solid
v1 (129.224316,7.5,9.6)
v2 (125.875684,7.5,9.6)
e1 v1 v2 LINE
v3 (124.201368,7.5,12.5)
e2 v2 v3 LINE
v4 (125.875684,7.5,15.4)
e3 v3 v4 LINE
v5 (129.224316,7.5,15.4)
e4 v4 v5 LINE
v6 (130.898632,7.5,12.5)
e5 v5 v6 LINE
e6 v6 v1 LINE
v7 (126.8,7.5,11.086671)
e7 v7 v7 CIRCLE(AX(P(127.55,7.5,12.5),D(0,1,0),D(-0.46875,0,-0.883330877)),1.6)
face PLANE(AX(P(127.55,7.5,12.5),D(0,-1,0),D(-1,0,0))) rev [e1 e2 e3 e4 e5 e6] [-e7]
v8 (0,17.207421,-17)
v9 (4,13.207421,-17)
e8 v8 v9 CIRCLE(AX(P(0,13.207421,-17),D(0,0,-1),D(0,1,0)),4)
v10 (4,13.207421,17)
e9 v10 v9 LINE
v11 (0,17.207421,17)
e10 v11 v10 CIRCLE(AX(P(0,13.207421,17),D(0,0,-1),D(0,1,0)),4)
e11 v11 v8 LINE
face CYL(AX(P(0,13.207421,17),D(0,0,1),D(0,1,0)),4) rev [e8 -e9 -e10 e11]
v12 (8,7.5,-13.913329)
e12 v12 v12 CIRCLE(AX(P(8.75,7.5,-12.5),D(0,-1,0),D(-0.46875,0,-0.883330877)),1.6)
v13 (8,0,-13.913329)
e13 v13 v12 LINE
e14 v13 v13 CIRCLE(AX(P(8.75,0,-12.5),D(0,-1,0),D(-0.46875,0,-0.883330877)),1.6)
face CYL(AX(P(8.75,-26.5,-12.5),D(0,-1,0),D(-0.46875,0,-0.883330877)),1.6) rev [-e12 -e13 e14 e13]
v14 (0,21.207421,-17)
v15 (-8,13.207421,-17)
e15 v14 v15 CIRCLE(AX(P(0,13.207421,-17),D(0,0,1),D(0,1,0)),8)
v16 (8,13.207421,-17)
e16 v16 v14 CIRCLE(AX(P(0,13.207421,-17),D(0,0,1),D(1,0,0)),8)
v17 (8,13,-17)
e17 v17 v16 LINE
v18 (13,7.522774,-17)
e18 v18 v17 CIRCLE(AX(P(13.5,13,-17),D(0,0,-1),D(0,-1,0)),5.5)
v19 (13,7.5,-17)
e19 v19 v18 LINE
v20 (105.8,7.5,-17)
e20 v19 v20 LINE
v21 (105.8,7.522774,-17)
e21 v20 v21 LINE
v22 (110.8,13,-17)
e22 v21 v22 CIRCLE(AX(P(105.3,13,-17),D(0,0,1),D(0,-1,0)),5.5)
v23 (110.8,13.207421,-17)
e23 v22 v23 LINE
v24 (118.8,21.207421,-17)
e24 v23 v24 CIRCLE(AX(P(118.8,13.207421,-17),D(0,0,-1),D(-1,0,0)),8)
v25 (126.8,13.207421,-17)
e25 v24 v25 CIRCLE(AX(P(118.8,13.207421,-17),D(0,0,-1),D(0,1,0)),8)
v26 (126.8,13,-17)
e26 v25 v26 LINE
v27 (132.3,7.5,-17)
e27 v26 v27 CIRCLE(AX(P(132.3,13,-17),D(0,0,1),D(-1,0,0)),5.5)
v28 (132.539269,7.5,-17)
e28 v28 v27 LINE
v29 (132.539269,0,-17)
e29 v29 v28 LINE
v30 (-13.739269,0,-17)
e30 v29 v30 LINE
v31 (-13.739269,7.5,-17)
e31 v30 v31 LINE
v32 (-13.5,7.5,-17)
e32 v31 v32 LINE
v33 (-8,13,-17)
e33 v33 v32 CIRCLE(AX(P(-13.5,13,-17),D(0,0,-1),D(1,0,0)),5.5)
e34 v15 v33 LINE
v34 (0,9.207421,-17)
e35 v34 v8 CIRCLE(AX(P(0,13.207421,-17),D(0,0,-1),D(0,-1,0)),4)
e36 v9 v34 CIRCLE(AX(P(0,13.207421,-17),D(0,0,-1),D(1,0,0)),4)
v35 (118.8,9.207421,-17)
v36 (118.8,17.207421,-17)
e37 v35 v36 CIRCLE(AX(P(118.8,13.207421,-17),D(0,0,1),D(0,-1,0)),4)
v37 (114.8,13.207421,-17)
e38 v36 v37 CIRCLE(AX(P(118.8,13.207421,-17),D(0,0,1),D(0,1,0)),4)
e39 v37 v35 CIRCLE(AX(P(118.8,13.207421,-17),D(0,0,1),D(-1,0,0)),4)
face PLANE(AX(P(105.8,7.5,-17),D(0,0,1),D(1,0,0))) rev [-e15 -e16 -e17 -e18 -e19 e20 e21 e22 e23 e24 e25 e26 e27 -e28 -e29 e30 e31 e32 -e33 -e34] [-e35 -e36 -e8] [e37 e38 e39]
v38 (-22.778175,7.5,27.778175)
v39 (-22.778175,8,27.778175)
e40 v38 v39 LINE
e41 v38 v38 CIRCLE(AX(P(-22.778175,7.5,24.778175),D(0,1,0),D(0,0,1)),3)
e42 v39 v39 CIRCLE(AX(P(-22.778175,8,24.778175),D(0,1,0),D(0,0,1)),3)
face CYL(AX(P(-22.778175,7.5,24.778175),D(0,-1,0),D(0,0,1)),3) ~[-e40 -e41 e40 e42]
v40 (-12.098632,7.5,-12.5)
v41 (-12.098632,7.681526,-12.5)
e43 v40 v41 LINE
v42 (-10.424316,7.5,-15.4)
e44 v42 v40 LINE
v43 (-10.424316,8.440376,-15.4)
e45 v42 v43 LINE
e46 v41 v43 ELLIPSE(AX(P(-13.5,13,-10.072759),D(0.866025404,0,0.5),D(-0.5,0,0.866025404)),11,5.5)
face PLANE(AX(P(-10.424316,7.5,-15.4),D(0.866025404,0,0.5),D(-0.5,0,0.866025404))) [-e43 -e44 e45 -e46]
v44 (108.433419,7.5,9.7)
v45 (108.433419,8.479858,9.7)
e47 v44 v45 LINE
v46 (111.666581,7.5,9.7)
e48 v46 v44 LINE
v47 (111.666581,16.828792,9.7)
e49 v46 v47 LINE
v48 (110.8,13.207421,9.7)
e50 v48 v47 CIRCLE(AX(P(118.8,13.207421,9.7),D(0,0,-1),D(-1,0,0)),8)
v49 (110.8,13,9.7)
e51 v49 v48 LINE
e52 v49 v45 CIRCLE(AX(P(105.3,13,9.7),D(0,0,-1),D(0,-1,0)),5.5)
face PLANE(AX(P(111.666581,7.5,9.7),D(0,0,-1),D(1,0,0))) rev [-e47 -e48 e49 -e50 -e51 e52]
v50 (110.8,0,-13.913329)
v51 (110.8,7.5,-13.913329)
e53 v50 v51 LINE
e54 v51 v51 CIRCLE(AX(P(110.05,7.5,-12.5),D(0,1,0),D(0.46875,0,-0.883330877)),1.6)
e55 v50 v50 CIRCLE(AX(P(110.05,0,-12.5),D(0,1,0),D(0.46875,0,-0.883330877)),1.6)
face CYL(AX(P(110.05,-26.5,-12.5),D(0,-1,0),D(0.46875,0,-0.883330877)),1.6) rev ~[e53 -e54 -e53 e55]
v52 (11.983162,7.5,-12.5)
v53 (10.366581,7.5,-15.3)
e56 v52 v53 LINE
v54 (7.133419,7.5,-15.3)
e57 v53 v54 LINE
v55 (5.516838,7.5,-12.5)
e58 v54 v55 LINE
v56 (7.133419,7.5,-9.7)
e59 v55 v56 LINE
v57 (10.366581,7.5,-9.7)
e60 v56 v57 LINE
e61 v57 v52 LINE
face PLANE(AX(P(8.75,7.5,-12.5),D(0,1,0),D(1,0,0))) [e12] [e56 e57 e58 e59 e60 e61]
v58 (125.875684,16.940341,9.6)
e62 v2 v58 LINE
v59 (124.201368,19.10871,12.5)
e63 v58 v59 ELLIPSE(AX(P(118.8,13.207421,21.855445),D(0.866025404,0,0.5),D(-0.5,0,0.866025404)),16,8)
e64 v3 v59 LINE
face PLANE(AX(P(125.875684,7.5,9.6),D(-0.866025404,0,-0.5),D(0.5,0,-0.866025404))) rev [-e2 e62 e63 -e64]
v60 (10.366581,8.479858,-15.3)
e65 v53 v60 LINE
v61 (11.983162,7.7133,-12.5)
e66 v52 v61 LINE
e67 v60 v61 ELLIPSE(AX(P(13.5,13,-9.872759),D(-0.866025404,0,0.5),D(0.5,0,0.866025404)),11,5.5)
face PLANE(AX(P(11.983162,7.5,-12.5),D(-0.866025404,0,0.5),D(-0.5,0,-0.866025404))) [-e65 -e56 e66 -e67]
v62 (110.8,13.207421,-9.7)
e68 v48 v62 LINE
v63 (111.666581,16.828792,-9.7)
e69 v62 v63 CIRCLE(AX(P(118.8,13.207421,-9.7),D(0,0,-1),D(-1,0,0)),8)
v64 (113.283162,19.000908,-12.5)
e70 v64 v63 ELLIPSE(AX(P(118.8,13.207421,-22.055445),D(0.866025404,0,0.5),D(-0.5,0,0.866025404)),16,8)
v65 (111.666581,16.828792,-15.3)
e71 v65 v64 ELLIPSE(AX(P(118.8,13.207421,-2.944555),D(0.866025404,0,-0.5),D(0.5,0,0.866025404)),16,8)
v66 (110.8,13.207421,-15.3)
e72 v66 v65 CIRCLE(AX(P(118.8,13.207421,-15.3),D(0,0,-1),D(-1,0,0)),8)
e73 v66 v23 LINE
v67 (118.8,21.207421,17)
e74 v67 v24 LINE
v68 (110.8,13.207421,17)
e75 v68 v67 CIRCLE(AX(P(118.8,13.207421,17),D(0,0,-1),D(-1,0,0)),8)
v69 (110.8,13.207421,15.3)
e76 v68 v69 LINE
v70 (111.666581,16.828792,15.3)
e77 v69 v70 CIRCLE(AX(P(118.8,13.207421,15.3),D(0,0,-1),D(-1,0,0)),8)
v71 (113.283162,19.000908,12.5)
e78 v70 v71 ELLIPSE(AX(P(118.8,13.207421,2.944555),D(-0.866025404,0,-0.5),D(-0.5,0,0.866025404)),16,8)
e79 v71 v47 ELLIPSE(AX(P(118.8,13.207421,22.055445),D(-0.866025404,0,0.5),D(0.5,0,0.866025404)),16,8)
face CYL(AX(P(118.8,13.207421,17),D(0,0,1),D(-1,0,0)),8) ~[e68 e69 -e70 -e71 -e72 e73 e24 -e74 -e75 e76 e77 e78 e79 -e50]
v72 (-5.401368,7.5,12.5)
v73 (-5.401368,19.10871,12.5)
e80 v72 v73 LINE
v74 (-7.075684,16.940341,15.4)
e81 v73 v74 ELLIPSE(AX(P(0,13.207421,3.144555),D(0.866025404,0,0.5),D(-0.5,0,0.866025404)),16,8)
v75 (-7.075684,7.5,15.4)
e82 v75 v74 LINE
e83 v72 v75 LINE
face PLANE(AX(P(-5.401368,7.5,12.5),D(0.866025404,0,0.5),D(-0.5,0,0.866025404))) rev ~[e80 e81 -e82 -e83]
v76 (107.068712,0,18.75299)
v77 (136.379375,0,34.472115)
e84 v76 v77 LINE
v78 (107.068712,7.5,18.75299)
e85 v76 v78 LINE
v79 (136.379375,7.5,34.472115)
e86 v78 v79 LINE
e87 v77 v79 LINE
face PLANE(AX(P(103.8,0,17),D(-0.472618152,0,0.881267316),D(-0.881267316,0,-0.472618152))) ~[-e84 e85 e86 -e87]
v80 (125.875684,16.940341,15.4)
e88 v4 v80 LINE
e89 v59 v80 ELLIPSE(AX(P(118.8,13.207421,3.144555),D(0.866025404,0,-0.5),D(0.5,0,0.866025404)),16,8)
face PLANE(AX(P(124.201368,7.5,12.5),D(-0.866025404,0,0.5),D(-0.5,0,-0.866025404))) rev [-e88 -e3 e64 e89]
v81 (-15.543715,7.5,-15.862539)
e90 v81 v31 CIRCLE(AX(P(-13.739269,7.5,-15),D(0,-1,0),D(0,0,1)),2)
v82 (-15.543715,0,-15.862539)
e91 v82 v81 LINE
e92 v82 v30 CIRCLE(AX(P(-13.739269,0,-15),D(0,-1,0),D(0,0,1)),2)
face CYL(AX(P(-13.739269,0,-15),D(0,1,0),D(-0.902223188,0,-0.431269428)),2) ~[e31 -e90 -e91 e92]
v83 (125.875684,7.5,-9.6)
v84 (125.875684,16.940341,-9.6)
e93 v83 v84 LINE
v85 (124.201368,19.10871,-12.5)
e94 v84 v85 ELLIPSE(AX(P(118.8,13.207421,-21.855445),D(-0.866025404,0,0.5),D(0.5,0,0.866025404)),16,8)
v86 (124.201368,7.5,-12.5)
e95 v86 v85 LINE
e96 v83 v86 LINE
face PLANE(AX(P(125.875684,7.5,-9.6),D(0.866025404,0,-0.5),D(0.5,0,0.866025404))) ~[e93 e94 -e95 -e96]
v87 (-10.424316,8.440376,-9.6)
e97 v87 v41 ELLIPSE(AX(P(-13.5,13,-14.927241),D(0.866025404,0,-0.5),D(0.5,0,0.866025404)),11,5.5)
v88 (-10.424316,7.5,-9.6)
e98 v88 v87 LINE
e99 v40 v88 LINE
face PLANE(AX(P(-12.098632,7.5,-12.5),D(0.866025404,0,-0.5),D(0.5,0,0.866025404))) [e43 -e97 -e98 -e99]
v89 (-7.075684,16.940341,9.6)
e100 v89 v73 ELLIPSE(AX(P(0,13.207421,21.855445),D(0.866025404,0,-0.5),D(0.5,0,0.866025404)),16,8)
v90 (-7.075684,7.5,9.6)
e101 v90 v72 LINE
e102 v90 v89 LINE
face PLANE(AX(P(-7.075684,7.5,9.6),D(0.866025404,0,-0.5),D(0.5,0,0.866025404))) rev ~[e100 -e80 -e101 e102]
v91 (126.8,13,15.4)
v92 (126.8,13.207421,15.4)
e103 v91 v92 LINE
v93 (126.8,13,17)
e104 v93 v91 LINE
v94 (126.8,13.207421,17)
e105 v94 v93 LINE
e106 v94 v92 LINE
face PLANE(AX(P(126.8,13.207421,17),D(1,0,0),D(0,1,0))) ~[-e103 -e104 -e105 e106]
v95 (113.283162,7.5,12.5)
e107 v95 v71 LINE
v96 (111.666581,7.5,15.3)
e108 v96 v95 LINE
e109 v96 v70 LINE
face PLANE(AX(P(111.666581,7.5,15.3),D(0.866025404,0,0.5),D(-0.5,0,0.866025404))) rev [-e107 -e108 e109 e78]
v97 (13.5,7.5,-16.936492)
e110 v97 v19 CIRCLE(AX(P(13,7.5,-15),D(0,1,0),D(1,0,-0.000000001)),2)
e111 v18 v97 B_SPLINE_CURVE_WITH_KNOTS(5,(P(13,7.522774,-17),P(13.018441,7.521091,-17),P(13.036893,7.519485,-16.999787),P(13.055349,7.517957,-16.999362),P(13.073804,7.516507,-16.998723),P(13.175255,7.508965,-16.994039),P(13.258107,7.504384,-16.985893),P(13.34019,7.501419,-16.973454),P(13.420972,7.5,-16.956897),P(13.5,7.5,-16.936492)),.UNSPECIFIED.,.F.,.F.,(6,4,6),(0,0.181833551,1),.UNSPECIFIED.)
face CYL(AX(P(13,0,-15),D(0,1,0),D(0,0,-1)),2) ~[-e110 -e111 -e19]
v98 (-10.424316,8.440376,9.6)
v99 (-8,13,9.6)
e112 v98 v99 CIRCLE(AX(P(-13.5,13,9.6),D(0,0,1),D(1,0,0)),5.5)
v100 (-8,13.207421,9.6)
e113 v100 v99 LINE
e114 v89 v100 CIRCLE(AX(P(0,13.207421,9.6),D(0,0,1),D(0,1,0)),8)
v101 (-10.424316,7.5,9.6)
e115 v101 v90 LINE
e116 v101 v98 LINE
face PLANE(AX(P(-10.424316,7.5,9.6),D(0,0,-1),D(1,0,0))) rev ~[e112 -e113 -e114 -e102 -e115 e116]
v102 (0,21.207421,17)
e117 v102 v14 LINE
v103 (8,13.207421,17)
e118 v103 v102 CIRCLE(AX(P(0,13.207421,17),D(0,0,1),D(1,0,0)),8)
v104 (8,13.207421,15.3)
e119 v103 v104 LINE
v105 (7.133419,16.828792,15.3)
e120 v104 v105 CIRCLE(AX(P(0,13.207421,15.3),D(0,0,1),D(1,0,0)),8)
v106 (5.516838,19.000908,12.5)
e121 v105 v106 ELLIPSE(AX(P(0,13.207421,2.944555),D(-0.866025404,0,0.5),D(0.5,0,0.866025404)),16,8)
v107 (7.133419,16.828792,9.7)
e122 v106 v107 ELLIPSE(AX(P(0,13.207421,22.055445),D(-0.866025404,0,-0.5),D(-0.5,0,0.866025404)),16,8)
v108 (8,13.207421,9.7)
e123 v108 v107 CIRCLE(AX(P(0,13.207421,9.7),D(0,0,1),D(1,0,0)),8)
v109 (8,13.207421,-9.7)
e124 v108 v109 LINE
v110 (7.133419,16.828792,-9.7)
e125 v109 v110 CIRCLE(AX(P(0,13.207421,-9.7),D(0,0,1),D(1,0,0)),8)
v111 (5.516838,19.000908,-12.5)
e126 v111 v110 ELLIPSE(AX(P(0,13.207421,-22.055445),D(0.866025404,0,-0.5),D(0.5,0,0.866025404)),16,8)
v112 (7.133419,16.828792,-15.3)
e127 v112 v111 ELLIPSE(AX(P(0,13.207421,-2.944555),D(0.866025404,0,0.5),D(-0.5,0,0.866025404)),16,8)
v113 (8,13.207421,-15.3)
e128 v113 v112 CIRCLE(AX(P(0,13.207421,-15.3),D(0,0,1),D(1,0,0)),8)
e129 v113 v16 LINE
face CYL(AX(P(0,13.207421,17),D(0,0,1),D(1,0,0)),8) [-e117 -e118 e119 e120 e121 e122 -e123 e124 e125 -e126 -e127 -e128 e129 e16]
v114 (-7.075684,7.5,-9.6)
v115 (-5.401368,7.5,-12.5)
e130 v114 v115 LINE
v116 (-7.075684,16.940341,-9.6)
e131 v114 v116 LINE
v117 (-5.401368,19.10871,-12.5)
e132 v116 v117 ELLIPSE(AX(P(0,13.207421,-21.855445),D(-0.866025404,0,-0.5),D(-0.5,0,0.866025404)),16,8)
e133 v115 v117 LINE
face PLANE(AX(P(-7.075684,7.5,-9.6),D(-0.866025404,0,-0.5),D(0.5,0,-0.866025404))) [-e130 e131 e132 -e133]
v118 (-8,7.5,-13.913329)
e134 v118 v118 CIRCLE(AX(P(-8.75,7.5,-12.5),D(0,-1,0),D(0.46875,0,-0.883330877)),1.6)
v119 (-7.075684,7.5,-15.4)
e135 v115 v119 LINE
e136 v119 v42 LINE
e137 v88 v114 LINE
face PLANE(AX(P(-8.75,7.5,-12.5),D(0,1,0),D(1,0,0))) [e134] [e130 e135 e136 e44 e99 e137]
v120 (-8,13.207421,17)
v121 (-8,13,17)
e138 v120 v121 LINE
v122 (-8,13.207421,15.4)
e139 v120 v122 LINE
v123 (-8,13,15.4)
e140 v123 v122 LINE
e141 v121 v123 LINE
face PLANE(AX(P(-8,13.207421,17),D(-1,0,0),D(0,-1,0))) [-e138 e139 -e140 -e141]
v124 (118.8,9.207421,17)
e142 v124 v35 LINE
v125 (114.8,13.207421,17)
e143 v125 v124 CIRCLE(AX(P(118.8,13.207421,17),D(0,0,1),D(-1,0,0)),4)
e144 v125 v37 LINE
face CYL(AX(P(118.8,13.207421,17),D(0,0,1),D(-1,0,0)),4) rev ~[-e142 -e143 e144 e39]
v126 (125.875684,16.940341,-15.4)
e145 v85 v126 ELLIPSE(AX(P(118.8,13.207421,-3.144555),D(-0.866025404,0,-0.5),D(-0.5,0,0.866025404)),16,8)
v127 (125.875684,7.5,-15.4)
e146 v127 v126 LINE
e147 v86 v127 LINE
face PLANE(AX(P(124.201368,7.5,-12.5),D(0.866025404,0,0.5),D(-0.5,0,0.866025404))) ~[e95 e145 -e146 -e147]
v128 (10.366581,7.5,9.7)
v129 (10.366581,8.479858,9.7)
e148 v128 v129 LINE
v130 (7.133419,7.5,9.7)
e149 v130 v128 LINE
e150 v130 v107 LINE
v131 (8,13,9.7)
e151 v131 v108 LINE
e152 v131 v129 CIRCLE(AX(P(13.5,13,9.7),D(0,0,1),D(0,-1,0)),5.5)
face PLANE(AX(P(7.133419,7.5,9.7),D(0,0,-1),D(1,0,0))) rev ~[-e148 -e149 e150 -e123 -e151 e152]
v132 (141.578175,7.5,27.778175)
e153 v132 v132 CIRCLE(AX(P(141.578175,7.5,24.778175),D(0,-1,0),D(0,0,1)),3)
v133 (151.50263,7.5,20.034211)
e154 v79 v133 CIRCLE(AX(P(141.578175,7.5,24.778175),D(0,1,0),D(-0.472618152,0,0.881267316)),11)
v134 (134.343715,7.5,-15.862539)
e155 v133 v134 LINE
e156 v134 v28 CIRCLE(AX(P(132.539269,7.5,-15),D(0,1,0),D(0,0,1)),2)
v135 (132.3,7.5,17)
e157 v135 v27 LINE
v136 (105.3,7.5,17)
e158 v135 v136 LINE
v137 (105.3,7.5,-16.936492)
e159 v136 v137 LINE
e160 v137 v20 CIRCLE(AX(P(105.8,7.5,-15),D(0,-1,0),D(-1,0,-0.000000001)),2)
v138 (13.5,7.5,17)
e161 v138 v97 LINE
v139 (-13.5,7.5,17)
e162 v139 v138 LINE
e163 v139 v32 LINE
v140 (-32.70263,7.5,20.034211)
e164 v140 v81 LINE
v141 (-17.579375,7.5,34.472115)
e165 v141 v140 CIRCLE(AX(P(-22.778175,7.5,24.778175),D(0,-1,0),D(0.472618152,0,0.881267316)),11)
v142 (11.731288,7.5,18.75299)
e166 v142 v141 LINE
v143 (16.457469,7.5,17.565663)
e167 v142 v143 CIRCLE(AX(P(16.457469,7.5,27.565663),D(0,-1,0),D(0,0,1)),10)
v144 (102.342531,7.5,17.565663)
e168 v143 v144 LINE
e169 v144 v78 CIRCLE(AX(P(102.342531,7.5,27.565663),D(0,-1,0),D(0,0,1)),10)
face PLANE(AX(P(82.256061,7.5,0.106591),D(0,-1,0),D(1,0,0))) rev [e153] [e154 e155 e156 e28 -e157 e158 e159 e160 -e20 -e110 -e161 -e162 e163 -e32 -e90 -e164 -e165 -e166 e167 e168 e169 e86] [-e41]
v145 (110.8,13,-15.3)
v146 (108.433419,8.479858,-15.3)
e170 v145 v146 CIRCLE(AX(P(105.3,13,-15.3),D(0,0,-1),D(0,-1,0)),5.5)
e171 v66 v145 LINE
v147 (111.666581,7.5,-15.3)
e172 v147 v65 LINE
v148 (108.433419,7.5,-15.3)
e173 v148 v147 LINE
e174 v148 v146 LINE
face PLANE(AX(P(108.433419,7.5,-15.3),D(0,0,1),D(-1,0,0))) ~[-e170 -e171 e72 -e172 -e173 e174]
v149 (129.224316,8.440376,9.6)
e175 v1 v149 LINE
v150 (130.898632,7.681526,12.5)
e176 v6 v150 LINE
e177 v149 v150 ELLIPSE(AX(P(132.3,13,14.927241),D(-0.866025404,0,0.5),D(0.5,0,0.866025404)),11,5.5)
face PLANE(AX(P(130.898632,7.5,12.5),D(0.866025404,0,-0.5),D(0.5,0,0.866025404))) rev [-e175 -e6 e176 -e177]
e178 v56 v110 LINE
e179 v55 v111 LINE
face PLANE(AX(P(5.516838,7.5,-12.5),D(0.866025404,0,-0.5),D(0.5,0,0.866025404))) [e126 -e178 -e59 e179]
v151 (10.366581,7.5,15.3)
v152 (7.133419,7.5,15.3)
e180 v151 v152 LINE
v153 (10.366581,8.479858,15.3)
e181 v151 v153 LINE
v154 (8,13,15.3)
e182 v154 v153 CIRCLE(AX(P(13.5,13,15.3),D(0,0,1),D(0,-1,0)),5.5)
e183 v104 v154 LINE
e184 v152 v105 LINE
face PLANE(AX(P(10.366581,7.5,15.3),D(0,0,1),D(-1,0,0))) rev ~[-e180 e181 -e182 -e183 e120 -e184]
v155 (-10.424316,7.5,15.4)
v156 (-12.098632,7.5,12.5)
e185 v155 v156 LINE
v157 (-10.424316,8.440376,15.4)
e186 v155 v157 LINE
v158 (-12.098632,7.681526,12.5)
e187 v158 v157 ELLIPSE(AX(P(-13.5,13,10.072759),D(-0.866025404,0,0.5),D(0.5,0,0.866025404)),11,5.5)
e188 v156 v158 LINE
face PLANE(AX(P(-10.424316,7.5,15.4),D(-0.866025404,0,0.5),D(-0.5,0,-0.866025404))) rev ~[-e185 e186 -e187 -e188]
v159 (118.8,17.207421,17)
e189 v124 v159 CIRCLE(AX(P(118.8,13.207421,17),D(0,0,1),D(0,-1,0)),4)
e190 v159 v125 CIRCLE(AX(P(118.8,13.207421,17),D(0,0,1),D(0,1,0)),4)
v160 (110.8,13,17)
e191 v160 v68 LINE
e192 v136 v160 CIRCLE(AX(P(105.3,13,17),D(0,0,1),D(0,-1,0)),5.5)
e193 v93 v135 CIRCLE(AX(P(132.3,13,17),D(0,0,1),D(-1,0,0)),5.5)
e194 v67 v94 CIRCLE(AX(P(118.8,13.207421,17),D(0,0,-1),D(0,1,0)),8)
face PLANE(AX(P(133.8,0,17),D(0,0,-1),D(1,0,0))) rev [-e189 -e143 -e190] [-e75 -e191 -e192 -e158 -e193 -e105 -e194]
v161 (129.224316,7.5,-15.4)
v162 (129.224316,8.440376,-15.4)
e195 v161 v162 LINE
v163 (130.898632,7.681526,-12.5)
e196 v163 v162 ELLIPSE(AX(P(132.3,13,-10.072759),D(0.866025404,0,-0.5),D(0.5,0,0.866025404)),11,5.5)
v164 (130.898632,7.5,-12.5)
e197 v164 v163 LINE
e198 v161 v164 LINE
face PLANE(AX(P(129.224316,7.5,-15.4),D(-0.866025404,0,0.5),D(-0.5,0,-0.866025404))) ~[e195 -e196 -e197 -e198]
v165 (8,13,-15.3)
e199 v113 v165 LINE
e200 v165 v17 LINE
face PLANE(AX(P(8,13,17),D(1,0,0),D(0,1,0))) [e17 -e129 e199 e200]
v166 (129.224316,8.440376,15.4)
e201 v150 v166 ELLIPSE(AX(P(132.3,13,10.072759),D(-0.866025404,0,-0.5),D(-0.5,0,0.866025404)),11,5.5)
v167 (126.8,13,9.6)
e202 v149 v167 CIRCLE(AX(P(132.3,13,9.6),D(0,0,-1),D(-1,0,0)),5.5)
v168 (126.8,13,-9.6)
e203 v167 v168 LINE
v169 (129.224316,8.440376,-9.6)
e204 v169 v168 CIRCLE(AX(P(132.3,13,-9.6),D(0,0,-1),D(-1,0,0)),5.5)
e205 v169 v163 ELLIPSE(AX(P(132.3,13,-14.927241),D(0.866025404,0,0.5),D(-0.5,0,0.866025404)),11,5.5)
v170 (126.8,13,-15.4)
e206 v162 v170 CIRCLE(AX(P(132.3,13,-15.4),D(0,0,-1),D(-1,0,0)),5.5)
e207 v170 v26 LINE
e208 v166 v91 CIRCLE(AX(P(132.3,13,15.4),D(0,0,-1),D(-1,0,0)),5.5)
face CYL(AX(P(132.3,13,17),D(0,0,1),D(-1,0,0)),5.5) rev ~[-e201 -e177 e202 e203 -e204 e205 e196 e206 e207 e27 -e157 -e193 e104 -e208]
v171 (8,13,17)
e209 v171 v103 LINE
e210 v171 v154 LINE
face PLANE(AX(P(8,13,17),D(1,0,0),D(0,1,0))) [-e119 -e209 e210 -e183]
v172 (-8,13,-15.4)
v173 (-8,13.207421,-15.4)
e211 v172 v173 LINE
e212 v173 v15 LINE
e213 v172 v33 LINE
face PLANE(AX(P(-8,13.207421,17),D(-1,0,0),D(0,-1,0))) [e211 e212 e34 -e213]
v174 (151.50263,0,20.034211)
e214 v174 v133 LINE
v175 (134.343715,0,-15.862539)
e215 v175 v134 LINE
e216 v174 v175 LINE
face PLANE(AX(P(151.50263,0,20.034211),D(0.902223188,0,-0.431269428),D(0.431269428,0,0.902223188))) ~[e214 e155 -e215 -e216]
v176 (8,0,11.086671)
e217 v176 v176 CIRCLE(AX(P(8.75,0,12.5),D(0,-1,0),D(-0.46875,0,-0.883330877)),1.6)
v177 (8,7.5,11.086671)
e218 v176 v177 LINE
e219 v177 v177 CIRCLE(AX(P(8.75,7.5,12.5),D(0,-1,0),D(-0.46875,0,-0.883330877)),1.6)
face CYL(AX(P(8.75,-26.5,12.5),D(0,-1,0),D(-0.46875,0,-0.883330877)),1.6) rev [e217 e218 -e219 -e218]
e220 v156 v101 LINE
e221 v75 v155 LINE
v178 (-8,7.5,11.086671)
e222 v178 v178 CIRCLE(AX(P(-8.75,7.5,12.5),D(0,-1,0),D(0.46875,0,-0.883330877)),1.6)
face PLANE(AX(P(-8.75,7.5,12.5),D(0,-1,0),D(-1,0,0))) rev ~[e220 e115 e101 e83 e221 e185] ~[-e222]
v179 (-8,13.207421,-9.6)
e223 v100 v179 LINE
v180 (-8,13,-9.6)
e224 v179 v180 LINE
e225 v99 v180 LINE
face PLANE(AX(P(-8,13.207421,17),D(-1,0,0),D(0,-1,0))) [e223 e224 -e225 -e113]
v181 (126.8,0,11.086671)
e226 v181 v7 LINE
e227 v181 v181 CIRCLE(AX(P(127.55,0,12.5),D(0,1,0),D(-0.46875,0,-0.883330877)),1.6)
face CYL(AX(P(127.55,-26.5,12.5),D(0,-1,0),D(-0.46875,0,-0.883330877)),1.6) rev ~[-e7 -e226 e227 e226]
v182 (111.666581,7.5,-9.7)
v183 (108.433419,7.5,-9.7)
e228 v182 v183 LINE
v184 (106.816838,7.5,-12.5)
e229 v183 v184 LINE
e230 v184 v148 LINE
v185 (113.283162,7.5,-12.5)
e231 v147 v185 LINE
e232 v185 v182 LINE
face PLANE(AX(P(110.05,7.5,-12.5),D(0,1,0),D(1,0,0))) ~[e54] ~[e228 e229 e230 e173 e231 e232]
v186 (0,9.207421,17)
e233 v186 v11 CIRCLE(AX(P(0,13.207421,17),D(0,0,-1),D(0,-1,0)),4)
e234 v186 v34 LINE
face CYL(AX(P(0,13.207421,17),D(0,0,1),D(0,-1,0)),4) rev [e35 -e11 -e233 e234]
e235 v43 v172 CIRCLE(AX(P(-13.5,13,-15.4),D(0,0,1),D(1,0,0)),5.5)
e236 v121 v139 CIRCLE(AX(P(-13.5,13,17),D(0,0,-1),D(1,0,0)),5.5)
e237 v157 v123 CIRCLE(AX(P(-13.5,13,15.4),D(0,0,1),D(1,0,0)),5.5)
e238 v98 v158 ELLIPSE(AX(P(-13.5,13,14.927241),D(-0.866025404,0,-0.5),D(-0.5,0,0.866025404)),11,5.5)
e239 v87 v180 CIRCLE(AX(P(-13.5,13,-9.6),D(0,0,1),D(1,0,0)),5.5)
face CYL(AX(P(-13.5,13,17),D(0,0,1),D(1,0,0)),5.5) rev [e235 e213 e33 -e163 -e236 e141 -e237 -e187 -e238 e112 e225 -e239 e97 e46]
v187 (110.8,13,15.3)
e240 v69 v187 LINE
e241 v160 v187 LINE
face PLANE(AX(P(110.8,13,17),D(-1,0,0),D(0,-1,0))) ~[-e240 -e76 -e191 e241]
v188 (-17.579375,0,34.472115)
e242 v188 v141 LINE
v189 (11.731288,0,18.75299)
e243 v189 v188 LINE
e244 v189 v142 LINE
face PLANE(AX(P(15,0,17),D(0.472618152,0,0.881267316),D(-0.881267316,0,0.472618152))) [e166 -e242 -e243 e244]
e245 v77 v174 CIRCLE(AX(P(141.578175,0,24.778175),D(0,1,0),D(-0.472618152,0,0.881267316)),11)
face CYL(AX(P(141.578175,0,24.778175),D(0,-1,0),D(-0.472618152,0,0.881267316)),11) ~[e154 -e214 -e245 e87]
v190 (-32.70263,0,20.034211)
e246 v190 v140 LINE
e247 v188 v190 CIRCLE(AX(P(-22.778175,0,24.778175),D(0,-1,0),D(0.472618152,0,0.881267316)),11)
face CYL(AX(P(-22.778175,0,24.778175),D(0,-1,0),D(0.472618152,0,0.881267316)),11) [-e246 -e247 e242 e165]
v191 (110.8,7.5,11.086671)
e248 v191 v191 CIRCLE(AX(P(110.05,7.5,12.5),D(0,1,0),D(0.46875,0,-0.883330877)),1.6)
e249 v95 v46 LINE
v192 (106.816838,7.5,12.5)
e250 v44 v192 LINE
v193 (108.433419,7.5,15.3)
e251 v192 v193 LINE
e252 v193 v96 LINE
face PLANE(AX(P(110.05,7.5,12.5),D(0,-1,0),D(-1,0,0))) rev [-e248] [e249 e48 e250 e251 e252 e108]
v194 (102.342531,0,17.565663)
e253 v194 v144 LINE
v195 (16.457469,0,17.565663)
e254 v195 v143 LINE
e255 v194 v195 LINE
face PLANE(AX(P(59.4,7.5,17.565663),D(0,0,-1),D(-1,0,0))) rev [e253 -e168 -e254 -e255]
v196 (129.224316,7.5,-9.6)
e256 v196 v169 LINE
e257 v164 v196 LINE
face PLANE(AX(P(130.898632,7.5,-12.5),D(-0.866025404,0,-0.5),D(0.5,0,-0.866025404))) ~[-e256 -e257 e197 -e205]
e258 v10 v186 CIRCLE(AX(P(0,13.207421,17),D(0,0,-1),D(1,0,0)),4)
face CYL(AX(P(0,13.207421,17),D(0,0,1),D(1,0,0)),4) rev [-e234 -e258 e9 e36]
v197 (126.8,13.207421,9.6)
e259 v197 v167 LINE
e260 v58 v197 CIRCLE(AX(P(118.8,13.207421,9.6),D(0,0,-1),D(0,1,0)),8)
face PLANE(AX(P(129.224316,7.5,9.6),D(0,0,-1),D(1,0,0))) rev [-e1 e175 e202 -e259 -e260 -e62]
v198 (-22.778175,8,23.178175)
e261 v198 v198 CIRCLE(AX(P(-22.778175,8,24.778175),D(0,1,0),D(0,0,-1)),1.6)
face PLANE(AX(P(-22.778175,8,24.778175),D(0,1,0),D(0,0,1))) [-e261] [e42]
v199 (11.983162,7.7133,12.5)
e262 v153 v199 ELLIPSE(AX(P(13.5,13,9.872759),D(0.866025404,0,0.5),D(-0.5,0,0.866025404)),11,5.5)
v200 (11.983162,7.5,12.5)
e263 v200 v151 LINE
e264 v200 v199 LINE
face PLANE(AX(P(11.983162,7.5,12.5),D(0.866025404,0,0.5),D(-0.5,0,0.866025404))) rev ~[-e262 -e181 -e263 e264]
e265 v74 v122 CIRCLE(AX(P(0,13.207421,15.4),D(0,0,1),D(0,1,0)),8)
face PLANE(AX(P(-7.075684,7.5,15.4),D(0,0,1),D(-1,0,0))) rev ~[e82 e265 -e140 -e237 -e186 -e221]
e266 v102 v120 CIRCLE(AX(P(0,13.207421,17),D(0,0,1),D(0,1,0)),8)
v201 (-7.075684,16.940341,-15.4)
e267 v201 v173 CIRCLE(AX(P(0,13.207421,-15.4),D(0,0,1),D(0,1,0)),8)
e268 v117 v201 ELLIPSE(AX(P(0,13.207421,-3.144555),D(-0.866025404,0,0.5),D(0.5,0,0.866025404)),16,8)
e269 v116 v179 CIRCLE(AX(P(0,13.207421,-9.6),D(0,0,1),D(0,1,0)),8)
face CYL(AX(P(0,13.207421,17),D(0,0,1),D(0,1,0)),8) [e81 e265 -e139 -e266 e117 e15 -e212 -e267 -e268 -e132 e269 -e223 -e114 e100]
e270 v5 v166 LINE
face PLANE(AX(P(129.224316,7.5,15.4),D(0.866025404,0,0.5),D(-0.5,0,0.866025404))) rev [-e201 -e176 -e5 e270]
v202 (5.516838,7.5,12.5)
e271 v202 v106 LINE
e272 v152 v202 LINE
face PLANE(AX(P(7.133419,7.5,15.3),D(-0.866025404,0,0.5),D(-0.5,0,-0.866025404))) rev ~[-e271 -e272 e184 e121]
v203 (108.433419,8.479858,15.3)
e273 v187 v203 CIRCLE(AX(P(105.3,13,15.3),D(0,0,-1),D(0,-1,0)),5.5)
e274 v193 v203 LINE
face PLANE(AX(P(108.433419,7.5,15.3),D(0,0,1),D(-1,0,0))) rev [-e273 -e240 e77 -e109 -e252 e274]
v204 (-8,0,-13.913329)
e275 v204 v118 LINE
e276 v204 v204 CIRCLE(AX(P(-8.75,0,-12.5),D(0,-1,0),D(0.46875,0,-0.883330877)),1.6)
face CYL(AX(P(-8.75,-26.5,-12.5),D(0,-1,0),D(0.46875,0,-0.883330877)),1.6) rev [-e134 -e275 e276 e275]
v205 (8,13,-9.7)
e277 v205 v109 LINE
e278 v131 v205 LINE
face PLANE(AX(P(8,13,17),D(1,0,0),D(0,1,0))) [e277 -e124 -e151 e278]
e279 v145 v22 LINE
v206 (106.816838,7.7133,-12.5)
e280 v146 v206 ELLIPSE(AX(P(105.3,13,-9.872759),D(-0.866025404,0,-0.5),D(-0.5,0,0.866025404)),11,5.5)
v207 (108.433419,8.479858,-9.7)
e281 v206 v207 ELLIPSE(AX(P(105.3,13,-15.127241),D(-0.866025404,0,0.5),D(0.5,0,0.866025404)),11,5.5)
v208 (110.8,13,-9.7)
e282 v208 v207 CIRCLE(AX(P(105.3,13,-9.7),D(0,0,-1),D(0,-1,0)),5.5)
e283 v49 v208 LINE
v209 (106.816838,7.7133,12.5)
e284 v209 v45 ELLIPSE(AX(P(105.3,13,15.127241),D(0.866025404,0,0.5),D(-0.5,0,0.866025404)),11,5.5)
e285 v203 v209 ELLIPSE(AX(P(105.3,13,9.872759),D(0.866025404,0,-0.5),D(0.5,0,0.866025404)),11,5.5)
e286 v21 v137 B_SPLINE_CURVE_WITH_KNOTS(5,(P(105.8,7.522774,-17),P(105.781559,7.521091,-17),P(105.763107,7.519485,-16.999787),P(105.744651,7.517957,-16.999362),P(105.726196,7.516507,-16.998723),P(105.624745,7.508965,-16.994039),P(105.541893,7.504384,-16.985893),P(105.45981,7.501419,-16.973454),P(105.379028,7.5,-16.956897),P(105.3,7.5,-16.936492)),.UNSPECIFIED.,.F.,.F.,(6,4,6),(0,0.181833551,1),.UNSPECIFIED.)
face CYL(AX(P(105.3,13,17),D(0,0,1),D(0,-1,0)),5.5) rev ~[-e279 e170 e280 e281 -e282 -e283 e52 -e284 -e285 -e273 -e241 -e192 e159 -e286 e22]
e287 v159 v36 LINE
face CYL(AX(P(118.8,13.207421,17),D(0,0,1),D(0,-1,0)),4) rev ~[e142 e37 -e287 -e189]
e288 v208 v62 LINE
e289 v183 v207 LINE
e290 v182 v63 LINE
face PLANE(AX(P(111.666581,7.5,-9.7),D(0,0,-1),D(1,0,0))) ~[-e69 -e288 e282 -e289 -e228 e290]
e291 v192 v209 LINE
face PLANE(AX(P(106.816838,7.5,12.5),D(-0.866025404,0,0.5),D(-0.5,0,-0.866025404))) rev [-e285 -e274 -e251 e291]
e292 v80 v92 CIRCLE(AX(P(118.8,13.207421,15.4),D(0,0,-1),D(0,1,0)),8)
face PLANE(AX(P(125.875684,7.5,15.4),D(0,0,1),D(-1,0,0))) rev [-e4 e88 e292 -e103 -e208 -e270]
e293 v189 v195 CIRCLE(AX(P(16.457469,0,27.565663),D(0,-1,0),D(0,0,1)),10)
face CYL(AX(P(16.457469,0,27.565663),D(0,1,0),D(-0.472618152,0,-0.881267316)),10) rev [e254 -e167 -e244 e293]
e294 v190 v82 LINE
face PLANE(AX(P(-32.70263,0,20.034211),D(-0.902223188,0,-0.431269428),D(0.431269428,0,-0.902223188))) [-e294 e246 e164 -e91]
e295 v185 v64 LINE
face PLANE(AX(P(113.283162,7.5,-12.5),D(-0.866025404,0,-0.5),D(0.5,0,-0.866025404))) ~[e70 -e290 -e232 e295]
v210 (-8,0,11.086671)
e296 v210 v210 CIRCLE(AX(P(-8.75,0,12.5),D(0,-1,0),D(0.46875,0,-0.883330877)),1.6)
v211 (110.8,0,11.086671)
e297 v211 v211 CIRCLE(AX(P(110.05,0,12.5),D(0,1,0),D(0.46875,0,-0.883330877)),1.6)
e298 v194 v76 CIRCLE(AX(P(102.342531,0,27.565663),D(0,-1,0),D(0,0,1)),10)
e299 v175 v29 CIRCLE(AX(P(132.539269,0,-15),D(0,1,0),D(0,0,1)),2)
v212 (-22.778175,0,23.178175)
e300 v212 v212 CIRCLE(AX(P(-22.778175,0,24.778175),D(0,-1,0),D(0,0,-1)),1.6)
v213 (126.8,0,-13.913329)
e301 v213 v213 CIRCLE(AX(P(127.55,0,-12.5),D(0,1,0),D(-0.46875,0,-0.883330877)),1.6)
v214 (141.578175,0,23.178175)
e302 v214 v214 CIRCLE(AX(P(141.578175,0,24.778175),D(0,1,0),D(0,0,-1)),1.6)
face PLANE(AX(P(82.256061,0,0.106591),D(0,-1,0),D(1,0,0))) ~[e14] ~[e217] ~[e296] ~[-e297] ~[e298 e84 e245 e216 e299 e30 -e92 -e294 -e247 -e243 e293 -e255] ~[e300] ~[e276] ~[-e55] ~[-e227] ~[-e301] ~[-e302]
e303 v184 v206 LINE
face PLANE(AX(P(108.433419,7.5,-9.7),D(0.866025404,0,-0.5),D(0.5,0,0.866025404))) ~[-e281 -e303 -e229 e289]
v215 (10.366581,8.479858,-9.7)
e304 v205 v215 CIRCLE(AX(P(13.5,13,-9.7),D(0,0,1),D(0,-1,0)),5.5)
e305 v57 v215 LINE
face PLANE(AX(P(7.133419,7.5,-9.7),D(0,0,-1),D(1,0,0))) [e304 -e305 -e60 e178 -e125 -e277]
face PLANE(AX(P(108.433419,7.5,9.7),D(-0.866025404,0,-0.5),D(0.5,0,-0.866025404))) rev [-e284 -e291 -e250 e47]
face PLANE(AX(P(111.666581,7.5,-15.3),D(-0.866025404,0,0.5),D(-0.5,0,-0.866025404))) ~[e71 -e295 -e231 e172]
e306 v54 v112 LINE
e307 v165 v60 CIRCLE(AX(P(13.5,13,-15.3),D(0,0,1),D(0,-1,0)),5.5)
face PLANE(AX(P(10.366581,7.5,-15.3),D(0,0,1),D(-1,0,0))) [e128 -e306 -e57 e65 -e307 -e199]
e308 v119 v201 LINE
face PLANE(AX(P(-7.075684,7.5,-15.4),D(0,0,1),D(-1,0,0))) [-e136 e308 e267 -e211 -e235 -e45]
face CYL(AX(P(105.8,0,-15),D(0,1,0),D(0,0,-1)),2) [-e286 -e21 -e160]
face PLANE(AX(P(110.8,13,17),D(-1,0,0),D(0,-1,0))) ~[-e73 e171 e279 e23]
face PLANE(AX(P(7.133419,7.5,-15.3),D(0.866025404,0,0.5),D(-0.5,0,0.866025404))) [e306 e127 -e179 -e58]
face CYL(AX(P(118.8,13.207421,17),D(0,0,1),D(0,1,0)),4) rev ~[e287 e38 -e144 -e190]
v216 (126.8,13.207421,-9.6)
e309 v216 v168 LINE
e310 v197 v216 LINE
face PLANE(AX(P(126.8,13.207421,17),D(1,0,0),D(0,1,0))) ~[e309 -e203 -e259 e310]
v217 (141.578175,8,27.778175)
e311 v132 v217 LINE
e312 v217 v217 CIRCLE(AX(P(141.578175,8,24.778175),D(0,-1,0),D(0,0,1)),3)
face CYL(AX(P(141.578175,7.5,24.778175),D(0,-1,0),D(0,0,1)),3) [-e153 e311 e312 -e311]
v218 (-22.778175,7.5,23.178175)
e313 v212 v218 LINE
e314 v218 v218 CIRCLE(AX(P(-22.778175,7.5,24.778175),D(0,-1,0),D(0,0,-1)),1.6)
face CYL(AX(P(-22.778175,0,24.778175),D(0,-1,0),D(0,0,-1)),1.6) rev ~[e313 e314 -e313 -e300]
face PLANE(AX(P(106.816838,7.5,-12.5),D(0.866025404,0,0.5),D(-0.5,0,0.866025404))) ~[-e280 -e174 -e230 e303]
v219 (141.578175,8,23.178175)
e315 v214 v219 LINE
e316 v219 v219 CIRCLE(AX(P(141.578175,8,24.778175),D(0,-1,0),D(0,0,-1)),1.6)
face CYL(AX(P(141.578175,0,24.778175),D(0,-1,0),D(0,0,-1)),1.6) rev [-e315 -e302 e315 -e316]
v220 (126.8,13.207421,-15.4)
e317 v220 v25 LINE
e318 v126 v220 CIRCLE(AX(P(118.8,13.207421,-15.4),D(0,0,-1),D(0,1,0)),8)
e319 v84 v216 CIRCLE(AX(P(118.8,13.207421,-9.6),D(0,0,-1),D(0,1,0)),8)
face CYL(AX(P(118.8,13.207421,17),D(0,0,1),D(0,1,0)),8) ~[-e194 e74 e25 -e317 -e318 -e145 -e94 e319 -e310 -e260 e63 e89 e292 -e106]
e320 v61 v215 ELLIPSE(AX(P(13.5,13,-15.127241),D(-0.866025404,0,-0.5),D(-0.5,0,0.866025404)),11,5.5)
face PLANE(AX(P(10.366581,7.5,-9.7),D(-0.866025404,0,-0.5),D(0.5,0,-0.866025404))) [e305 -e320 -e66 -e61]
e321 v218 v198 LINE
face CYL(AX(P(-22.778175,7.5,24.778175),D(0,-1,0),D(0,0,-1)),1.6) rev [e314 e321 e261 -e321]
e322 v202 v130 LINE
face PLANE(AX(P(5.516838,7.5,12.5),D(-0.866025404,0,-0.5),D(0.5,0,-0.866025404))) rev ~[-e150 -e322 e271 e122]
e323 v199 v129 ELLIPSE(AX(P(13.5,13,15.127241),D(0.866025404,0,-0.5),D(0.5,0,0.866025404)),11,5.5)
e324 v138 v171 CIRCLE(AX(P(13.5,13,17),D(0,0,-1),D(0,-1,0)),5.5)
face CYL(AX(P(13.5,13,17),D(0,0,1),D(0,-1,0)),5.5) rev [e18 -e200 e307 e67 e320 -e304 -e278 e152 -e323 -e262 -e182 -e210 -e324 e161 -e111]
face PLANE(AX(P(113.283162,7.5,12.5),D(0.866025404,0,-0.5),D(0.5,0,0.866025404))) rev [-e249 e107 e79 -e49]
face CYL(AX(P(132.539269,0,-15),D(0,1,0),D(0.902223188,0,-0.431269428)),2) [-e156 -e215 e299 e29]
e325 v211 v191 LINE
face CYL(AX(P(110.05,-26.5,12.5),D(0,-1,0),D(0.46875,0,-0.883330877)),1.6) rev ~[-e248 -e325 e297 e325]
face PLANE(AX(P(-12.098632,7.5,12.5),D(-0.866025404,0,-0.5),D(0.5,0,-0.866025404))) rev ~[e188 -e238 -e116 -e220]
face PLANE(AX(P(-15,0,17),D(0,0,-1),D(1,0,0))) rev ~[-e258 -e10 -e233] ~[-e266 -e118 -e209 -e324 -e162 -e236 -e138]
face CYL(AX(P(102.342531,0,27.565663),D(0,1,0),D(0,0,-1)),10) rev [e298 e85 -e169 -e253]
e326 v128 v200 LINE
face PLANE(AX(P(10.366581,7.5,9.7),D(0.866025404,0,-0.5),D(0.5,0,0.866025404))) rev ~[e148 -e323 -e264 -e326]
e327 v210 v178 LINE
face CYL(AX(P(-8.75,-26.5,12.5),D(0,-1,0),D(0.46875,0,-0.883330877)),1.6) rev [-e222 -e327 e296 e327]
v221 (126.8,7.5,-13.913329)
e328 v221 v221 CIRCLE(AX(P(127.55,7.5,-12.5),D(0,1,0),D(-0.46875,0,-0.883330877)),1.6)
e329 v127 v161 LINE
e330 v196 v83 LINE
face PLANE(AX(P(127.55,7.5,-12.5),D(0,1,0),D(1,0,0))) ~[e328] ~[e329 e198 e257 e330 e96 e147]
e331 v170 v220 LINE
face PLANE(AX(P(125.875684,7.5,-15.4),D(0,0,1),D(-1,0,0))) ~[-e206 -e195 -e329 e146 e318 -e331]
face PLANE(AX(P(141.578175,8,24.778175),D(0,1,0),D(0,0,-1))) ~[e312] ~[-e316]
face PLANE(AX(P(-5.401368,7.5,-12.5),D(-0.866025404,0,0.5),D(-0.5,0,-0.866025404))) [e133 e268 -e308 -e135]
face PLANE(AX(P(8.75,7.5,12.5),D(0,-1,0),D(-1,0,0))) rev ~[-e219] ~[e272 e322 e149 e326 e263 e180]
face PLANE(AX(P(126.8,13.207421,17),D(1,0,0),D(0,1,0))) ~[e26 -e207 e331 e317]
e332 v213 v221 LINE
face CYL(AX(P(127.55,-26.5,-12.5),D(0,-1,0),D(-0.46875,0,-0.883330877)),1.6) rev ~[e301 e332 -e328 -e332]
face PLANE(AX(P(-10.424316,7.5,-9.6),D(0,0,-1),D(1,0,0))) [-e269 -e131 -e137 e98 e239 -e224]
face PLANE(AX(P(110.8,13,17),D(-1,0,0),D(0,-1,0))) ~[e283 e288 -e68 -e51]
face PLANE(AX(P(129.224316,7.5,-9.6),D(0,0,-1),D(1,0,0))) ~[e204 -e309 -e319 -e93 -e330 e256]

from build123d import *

# Parameters (mm, degrees)
SKETCH1_W               = 30
SKETCH1_H               = 34
BOSS_EXTRUDE1_DEPTH     = 7.5
BOSS_EXTRUDE2_DEPTH     = 34
CUT_EXTRUDE2_DEPTH      = 34
CUT_EXTRUDE2_DEPTH_BACK = 34
SKETCH5_R               = 1.6
CUT_EXTRUDE3_DEPTH      = 34
SKETCH6_R               = 1.6
BOSS_EXTRUDE3_DEPTH     = 7.5
SKETCH7_R               = 3
SKETCH7_R_2             = 1.6
BOSS_EXTRUDE4_DEPTH     = 0.5
FILLET1_R               = 2
BOSS_EXTRUDE5_START     = -7.5
BOSS_EXTRUDE5_DEPTH     = 7.5
FILLET2_R               = 10


with BuildPart() as part:
    # Sketch1 → Boss-Extrude1 (new body)
    with BuildSketch(Plane(origin=(0, 0, 0), x_dir=(1, 0, 0), z_dir=(0, 1, 0))):
        Rectangle(SKETCH1_W, SKETCH1_H)
    extrude(amount=BOSS_EXTRUDE1_DEPTH)

    # Sketch2 → Boss-Extrude2 (add)
    with BuildSketch(Plane.XY.offset(17)):
        with BuildLine():
            ThreePointArc((8, 13.207420741), (5.656854249, 18.86427499), (0, 21.207420741))
            Line((0, 21.207420741), (0, 17.207420741))
            ThreePointArc((0, 17.207420741), (2.828427125, 16.035847865), (4, 13.207420741))
            ThreePointArc((4, 13.207420741), (2.828427125, 10.378993616), (0, 9.207420741))
            Line((0, 9.207420741), (0, 7.5))
            Line((0, 7.5), (5.60583165, 7.5))
            ThreePointArc((5.60583165, 7.5), (7.377216725, 10.112800667), (8, 13.207420741))
        make_face()
        with BuildLine():
            ThreePointArc((0, 21.207420741), (-5.656854249, 18.86427499), (-8, 13.207420741))
            ThreePointArc((-8, 13.207420741), (-7.377216725, 10.112800667), (-5.60583165, 7.5))
            Line((-5.60583165, 7.5), (0, 7.5))
            Line((0, 7.5), (0, 9.207420741))
            ThreePointArc((0, 9.207420741), (-4, 13.207420741), (0, 17.207420741))
            Line((0, 17.207420741), (0, 21.207420741))
        make_face()
        with BuildLine():
            Line((8, 13), (8, 13.207420741))
            ThreePointArc((8, 13.207420741), (7.377216725, 10.112800667), (5.60583165, 7.5))
            Line((5.60583165, 7.5), (13.5, 7.5))
            ThreePointArc((13.5, 7.5), (9.610912703, 9.110912703), (8, 13))
        make_face()
        with BuildLine():
            ThreePointArc((-5.60583165, 7.5), (-7.377216725, 10.112800667), (-8, 13.207420741))
            Line((-8, 13.207420741), (-8, 13))
            ThreePointArc((-8, 13), (-9.610912703, 9.110912703), (-13.5, 7.5))
            Line((-13.5, 7.5), (-5.60583165, 7.5))
        make_face()
    extrude(amount=-BOSS_EXTRUDE2_DEPTH)

    # Sketch5 → Cut-Extrude2 (cut, two sides: drawn at the far end of the back side and taken through both)
    with BuildSketch(Plane(origin=(0, 7.5, 0), x_dir=(1, 0, 0), z_dir=(0, 1, 0)).offset(-CUT_EXTRUDE2_DEPTH_BACK)):
        with Locations(Location((-8.75, 12.5, 0), (0, 0, 62.046813117))):
            Circle(SKETCH5_R)
        with Locations(Location((8.75, 12.5, 0), (0, 0, 117.953186883))):
            Circle(SKETCH5_R)
        with Locations(Location((-8.75, -12.5, 0), (0, 0, 62.046813117))):
            Circle(SKETCH5_R)
        with Locations(Location((8.75, -12.5, 0), (0, 0, 117.953186883))):
            Circle(SKETCH5_R)
    extrude(amount=CUT_EXTRUDE2_DEPTH + CUT_EXTRUDE2_DEPTH_BACK, mode=Mode.SUBTRACT)

    # Sketch5<3> → Cut-Extrude3 (cut)
    with BuildSketch(Plane(origin=(0, 7.5, 0), x_dir=(1, 0, 0), z_dir=(0, 1, 0))):
        Polygon((7.133419246, -9.7), (10.366580754, -9.7), (11.983161507, -12.5), (10.366580754, -15.3), (7.133419246, -15.3), (5.516838493, -12.5), align=None)
        Polygon((-12.098631561, 12.5), (-10.424315781, 9.6), (-7.075684219, 9.6), (-5.401368439, 12.5), (-7.075684219, 15.4), (-10.424315781, 15.4), align=None)
        Polygon((5.516838493, 12.5), (7.133419246, 9.7), (10.366580754, 9.7), (11.983161507, 12.5), (10.366580754, 15.3), (7.133419246, 15.3), align=None)
        Polygon((-7.075684219, -9.6), (-5.401368439, -12.5), (-7.075684219, -15.4), (-10.424315781, -15.4), (-12.098631561, -12.5), (-10.424315781, -9.6), align=None)
    extrude(amount=CUT_EXTRUDE3_DEPTH, mode=Mode.SUBTRACT)

    # Sketch6 → Boss-Extrude3 (add)
    with BuildSketch(Plane.XZ):
        with BuildLine():
            Line((-32.702629656, 20.034210881), (-15, -17))
            Line((-15, -17), (-15, 17))
            Line((-15, 17), (15, 17))
            Line((15, 17), (-17.579374925, 34.472115072))
            ThreePointArc((-17.579374925, 34.472115072), (-30.37397765, 32.734541598), (-32.702629656, 20.034210881))
        make_face()
        with Locations(Location((-22.778174593, 24.778174593, 0), (0, 0, 270))):
            Circle(SKETCH6_R, mode=Mode.SUBTRACT)
    extrude(amount=-BOSS_EXTRUDE3_DEPTH)

    # Sketch7 → Boss-Extrude4 (add)
    with BuildSketch(Plane(origin=(0, 7.5, 0), x_dir=(1, 0, 0), z_dir=(0, 1, 0))):
        with Locations(Location((-22.778174593, -24.778174593, 0), (0, 0, 270))):
            Circle(SKETCH7_R)
        with Locations(Location((-22.778174593, -24.778174593, 0), (0, 0, 90))):
            Circle(SKETCH7_R_2, mode=Mode.SUBTRACT)
    extrude(amount=BOSS_EXTRUDE4_DEPTH)

    # Fillet1
    fillet1_edges = [part.edges().sort_by_distance(p)[0] for p in [
        (-15, 3.75, -17),
        (15, 3.75, -17),
        (15, 3.75, 17),
    ]]
    fillet(fillet1_edges, radius=FILLET1_R)

    # Sketch8 → Boss-Extrude5 (add)
    with BuildSketch(Plane.XZ.offset(BOSS_EXTRUDE5_START)):
        with BuildLine():
            ThreePointArc((15, -15), (14.414213562, -16.414213562), (13, -17))
            Line((13, -17), (59.4, -17))
            Line((59.4, -17), (59.4, 17.565663176))
            Line((59.4, 17.565663176), (13.945236303, 17.565663176))
            ThreePointArc((13.945236303, 17.565663176), (14.716169078, 16.830145435), (15, 15.803128543))
            Line((15, 15.803128543), (15, -15))
        make_face()
    extrude(amount=BOSS_EXTRUDE5_DEPTH)

    # Mirror3: part across plane


with BuildPart() as part_1:
    add(part.part)
    add(part.part.mirror(Plane(origin=(59.4, 7.5, 0), x_dir=(0, 0, 1), z_dir=(-1, 0, 0))))

    # Fillet2
    fillet2_edges = [part_1.edges().sort_by_distance(p)[0] for p in [
        (13.945236303, 3.75, 17.565663176),
        (104.854763697, 3.75, 17.565663176),
    ]]
    fillet(fillet2_edges, radius=FILLET2_R)


solid = part_1.part
